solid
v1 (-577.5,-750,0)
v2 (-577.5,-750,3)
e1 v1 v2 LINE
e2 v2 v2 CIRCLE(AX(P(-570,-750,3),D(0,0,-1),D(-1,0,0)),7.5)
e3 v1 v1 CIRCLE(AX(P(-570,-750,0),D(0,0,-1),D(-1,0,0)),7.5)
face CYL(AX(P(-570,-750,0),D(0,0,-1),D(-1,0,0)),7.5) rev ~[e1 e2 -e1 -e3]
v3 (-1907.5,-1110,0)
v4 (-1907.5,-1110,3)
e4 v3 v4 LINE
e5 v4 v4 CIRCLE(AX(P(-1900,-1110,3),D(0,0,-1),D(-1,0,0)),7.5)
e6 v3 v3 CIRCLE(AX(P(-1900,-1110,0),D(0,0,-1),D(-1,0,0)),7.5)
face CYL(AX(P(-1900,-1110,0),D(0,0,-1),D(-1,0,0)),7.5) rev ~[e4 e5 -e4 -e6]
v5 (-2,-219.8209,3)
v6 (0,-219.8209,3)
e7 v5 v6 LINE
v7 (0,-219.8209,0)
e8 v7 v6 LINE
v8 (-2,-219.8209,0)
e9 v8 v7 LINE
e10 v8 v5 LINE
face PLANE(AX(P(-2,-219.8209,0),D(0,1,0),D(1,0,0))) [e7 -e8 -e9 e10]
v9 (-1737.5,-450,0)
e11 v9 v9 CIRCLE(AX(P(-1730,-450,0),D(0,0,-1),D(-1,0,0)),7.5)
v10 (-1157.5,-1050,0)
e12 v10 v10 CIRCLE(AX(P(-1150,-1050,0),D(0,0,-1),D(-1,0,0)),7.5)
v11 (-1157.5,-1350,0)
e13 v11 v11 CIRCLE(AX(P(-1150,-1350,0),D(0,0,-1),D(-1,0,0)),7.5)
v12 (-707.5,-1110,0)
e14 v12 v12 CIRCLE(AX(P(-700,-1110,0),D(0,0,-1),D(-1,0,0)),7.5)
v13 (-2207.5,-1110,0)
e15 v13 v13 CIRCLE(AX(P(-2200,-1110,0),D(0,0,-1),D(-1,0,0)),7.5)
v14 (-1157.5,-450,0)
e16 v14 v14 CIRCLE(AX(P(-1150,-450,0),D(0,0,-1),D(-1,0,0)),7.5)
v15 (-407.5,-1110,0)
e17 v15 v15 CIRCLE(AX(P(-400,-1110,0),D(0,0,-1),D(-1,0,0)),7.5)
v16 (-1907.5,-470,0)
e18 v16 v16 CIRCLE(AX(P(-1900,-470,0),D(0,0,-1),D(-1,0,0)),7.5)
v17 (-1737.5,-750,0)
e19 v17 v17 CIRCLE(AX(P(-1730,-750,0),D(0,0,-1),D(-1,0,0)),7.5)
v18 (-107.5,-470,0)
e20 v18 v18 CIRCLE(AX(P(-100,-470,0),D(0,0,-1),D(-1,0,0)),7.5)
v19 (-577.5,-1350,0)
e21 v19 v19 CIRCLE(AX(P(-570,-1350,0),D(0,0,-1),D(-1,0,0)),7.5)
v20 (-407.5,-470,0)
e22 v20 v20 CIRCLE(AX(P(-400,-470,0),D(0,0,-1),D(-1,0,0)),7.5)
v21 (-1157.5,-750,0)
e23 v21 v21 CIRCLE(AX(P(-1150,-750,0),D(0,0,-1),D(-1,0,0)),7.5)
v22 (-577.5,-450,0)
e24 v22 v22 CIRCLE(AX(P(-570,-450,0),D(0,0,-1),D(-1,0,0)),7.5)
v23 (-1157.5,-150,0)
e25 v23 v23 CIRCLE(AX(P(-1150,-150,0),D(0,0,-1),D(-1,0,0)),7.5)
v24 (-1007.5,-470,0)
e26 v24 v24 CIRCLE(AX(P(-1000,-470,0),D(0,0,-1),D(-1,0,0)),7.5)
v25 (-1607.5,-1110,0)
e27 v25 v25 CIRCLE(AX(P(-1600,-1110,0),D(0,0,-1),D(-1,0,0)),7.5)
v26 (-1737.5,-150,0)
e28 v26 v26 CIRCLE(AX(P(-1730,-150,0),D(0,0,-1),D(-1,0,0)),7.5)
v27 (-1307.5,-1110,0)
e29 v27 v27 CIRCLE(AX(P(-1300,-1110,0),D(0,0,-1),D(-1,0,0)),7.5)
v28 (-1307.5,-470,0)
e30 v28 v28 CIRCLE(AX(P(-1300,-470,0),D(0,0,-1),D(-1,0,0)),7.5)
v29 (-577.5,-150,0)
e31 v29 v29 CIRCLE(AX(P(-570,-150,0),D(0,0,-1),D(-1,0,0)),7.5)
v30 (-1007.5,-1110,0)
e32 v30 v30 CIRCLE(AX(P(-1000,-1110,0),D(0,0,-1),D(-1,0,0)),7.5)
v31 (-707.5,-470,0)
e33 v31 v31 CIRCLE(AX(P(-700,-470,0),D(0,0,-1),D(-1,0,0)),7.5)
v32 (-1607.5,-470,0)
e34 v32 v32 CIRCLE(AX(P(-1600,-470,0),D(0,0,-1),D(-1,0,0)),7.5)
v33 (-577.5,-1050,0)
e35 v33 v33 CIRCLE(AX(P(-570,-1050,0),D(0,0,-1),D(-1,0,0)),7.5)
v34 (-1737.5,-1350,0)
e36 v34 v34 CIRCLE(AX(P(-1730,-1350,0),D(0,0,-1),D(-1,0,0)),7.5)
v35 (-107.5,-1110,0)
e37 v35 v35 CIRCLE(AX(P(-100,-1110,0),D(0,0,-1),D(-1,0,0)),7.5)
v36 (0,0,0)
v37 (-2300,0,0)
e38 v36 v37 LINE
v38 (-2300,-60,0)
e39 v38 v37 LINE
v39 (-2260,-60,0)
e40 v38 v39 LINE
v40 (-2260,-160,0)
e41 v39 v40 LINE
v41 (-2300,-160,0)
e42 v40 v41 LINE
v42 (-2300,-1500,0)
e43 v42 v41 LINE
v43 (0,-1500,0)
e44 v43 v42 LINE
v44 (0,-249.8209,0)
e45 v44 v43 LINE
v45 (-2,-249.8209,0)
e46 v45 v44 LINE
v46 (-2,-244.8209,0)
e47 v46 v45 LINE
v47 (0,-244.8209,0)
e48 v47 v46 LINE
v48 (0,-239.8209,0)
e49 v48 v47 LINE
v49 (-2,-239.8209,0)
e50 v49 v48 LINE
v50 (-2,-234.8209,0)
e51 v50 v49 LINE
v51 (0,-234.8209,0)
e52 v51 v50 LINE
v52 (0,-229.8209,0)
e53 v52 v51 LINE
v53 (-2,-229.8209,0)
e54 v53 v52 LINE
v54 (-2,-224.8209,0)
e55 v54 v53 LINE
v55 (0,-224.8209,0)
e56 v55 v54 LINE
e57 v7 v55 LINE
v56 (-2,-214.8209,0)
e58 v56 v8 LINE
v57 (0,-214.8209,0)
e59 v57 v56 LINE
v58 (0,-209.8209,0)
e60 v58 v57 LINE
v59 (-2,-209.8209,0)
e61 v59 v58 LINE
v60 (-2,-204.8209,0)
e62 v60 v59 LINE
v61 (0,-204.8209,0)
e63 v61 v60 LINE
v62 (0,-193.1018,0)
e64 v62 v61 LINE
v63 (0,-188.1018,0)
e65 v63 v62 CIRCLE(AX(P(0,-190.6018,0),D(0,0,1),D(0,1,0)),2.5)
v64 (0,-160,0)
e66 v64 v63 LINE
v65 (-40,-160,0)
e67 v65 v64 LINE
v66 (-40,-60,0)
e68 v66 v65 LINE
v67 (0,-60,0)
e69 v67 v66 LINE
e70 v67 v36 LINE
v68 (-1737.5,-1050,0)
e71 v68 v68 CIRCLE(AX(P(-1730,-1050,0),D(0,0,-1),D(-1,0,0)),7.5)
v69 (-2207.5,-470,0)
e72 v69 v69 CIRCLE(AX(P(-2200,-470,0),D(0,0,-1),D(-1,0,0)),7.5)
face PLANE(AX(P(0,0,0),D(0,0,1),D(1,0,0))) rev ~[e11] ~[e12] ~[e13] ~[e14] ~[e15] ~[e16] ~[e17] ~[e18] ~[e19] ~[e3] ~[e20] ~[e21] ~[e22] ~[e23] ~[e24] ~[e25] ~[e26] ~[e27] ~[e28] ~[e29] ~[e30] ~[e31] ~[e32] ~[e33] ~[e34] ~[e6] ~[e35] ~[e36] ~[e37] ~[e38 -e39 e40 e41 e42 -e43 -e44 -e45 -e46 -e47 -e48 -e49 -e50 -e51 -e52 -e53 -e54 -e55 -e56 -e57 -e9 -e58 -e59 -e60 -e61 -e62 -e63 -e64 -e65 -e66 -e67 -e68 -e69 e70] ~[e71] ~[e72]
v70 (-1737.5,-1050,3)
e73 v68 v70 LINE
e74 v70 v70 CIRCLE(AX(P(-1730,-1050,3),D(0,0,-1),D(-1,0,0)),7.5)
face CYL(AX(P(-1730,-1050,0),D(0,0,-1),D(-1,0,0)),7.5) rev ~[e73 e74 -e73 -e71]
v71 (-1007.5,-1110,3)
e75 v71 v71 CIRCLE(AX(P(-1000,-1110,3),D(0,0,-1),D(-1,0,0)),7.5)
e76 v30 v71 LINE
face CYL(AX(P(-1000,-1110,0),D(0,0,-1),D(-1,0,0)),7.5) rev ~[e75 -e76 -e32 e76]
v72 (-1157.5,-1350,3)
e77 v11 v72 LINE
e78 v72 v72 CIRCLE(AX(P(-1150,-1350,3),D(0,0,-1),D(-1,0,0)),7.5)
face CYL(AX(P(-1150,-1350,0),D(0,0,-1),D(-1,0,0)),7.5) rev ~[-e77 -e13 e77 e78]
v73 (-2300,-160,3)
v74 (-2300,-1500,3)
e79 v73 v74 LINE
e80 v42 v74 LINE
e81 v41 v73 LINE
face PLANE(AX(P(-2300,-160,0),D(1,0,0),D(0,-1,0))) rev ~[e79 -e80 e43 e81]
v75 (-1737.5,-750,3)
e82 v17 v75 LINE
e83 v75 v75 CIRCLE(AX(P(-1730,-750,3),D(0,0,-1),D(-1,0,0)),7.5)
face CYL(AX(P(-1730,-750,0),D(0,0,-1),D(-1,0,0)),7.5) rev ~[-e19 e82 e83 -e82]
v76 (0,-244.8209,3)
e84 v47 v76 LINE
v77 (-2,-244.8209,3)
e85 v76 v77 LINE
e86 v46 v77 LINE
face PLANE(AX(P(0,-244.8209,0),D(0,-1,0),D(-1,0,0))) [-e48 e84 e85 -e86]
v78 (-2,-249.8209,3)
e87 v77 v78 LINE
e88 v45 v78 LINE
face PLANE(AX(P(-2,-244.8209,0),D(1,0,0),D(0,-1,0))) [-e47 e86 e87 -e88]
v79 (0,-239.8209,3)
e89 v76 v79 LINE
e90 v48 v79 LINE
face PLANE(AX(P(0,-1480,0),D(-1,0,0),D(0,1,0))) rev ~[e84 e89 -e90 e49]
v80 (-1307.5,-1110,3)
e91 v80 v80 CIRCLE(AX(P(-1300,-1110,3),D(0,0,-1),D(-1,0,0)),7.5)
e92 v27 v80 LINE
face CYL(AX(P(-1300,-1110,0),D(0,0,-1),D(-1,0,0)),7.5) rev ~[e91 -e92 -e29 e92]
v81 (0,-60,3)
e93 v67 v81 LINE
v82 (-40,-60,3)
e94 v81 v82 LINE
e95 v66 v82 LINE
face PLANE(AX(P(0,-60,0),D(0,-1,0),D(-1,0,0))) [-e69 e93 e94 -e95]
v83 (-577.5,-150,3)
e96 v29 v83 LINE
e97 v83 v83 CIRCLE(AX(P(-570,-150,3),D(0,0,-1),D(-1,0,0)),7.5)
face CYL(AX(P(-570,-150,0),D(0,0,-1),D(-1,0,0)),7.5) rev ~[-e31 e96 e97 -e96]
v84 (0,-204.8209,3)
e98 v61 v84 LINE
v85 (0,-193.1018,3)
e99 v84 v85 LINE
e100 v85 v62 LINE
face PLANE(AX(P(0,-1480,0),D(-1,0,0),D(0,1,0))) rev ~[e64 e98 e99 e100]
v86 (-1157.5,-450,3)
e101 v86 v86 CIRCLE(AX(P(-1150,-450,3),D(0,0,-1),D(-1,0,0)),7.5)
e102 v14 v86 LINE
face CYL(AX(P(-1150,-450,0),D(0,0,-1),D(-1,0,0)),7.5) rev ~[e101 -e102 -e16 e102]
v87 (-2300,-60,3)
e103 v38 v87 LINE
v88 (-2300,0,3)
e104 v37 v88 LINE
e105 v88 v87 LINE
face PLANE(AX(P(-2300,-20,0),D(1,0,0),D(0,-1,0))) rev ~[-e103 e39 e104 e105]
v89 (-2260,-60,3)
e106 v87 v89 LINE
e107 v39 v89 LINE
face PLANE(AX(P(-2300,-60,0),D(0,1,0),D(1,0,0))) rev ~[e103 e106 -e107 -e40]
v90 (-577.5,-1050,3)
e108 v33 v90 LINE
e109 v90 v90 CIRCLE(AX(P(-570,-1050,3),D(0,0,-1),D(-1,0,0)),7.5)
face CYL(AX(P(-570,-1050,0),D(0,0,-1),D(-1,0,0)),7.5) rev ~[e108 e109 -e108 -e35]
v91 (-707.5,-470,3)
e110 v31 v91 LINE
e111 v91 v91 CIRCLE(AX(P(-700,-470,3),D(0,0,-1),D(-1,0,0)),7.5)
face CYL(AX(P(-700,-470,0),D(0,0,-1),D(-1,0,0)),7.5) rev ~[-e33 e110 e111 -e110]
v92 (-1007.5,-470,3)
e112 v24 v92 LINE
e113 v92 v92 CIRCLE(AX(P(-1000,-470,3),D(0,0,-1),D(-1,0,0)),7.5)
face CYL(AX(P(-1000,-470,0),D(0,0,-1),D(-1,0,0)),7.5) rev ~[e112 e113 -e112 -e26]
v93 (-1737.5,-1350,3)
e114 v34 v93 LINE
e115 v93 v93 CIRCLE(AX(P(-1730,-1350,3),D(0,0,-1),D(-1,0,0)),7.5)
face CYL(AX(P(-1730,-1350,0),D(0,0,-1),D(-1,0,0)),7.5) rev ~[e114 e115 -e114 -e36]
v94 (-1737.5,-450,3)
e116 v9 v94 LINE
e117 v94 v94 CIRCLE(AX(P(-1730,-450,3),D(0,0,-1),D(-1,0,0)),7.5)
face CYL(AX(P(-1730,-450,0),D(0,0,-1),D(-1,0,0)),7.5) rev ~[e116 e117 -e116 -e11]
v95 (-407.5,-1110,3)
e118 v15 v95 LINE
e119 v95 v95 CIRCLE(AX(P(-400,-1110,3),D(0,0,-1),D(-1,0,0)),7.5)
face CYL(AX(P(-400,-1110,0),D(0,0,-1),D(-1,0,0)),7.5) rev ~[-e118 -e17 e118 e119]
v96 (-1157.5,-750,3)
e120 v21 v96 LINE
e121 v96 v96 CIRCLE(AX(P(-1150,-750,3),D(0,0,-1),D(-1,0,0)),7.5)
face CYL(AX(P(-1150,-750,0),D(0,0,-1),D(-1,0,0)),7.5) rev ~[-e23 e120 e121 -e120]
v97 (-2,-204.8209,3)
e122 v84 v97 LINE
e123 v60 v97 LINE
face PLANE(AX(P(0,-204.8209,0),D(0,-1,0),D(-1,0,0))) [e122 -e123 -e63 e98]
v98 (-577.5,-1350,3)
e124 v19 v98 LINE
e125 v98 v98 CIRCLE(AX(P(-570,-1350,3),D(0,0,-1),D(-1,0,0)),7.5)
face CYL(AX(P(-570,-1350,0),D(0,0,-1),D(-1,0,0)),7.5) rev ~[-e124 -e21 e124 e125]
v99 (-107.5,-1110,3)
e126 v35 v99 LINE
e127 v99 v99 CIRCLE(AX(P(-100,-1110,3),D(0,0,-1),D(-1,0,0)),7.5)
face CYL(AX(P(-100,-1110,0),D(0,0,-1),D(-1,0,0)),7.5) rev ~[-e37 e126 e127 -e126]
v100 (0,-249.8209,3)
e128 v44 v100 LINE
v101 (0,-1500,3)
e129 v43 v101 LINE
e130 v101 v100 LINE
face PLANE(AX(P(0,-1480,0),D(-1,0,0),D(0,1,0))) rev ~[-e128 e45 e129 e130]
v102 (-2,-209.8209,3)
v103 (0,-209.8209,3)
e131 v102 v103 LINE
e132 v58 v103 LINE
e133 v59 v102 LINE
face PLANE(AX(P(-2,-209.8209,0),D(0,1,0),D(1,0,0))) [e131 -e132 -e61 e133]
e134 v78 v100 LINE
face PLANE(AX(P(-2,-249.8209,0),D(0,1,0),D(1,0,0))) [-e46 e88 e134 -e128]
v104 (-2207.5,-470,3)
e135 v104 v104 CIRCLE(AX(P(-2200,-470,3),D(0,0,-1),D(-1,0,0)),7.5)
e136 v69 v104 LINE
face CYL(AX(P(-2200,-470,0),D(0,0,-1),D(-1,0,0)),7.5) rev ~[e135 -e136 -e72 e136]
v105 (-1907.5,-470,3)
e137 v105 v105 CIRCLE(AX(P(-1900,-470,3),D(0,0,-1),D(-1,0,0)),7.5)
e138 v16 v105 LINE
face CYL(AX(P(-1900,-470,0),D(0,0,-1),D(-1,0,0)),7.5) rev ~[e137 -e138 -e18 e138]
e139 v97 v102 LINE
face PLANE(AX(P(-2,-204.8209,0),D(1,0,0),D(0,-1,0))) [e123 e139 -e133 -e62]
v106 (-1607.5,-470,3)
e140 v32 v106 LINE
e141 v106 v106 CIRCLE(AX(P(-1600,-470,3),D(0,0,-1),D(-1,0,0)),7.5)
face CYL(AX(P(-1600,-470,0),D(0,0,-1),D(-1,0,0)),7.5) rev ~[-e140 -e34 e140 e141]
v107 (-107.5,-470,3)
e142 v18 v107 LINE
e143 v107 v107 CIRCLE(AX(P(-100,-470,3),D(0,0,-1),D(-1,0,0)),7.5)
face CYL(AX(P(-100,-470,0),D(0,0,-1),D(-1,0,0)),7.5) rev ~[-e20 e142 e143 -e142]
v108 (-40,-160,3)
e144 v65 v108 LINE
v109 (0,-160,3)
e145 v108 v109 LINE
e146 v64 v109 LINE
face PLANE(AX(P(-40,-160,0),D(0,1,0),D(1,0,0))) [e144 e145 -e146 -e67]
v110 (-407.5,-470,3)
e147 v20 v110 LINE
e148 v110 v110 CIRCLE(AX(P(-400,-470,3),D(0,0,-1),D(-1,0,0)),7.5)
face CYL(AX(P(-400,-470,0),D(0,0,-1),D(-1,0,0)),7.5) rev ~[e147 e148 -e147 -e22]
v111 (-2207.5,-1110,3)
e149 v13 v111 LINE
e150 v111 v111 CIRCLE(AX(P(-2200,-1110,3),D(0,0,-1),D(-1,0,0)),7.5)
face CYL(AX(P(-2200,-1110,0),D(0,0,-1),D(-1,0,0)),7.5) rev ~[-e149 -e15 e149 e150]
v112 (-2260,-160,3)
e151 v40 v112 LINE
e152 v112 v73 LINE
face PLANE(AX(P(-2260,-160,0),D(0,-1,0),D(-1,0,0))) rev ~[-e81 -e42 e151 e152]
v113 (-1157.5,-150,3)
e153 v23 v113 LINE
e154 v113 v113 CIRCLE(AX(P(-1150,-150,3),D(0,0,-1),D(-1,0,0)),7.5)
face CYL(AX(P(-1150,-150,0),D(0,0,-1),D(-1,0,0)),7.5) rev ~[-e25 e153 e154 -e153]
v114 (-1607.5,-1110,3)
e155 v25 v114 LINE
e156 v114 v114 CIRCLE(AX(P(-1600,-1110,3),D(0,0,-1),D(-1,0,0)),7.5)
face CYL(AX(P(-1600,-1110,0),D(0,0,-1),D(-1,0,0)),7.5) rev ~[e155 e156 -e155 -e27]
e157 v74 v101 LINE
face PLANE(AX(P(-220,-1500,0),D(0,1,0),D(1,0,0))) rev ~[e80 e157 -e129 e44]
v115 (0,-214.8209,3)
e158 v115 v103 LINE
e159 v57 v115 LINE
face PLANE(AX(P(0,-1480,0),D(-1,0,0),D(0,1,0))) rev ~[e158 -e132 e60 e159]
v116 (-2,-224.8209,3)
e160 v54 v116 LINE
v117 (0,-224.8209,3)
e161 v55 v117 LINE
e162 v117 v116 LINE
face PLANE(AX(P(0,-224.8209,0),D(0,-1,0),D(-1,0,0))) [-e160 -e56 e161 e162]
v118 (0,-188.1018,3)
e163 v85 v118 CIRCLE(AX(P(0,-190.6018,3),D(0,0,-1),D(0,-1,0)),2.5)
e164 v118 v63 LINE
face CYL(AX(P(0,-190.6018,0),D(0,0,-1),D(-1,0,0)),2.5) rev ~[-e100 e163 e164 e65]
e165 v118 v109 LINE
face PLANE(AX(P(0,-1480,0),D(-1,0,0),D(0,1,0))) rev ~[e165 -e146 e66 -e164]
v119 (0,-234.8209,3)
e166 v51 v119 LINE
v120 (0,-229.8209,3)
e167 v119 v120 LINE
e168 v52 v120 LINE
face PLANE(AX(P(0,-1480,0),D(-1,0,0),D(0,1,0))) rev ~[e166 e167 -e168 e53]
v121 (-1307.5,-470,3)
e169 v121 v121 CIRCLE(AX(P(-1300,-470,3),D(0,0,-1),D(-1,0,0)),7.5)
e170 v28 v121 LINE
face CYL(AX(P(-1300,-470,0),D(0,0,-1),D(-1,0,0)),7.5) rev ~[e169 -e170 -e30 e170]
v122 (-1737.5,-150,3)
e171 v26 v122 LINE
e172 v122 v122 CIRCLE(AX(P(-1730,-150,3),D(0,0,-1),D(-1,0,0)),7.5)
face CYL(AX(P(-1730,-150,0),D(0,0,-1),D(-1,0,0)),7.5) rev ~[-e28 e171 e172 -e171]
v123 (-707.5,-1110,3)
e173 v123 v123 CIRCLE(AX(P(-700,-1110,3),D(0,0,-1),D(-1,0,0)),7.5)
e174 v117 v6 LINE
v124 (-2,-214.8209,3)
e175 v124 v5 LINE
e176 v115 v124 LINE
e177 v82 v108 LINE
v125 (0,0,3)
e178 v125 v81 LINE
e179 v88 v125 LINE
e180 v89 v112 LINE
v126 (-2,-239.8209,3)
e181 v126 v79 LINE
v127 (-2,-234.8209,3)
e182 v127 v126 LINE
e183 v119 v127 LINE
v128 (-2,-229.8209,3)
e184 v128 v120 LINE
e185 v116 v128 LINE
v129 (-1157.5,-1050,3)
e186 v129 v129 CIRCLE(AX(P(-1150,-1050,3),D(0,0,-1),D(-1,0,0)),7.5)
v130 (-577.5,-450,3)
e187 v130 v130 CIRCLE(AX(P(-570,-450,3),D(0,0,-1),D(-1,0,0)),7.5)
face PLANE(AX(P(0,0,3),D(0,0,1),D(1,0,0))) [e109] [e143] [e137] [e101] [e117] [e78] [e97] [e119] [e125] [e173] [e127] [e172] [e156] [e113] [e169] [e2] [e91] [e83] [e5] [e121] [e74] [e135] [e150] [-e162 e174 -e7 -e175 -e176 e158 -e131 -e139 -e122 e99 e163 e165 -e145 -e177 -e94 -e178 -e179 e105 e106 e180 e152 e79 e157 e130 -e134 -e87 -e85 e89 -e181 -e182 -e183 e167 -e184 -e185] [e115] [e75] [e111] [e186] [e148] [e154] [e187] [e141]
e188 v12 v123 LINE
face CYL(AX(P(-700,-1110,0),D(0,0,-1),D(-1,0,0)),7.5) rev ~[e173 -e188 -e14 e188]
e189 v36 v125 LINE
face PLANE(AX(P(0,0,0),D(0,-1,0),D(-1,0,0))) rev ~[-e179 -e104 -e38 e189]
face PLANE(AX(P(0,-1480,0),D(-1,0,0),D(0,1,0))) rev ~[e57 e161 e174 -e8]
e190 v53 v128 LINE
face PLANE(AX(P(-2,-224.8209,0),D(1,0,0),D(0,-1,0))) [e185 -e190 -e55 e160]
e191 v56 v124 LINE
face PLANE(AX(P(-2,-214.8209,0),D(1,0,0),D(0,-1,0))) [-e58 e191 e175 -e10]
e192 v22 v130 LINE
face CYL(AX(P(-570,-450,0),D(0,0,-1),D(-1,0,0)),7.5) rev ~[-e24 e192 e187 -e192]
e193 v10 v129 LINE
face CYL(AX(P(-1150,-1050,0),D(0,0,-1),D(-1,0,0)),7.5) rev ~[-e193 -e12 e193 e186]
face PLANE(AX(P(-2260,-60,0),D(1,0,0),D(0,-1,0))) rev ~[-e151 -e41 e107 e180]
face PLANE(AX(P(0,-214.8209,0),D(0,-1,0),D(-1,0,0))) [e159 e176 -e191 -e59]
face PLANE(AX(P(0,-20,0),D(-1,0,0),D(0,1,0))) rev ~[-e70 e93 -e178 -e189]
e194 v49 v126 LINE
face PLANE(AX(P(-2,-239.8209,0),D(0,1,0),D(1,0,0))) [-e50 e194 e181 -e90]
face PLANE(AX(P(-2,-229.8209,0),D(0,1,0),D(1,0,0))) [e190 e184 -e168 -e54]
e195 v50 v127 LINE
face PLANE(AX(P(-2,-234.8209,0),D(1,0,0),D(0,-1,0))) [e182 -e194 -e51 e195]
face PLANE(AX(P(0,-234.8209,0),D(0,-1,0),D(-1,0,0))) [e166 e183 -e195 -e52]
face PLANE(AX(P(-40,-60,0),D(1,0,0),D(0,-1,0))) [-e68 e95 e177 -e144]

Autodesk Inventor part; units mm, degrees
ref_plane "YZ Plane" through (0, 0, 0) normal (1, 0, 0) x (0, 1, 0)
ref_plane "XZ Plane" through (0, 0, 0) normal (0, 1, 0) x (-1, 0, 0)
ref_plane "XY Plane" through (0, 0, 0) normal (0, 0, 1) x (1, 0, 0)
sketch "Sketch1" plane through (0, 0, 0) normal (0, 0, 1) x (1, 0, 0)
  line L0 (0, 0) -> (-2300, 0)
  line L1 (-2300, 0) -> (-2300, -1500)
  line L2 (-2300, -1500) -> (0, -1500)
  line L3 (0, -1500) -> (0, 0)
  line L4 (0, 0) -> (-20, 0)
  line L5 (-20, 0) -> (-20, -20)
  line L6 (-20, -20) -> (0, -20)
  line L7 (0, -20) -> (0, 0)
  line L8 (0, -1500) -> (-20, -1500)
  line L9 (-20, -1500) -> (-20, -1480)
  line L10 (-20, -1480) -> (0, -1480)
  line L11 (0, -1480) -> (0, -1500)
  line L12 (-2300, 0) -> (-2280, 0)
  line L13 (-2280, 0) -> (-2280, -20)
  line L14 (-2280, -20) -> (-2300, -20)
  line L15 (-2300, -20) -> (-2300, 0)
  line L16 (-2300, -1500) -> (-2280, -1500)
  line L17 (-2280, -1500) -> (-2280, -1480)
  line L18 (-2280, -1480) -> (-2300, -1480)
  line L19 (-2300, -1480) -> (-2300, -1500)
  line L20 (-310, -1500) -> (-220, -1500)
  line L21 (-220, -1500) -> (-220, -1480)
  line L22 (-220, -1480) -> (-310, -1480)
  line L23 (-310, -1480) -> (-310, -1500)
  line L24 (-310, 0) -> (-220, 0)
  line L25 (-220, 0) -> (-220, -20)
  line L26 (-220, -20) -> (-310, -20)
  line L27 (-310, -20) -> (-310, 0)
  line L28 (-2300, -60) -> (-2260, -60)
  line L29 (-2260, -60) -> (-2260, -160)
  line L30 (-2260, -160) -> (-2300, -160)
  line L31 (-2300, -160) -> (-2300, -60)
  line L32 (0, -60) -> (-40, -60)
  line L33 (-40, -60) -> (-40, -160)
  line L34 (-40, -160) -> (0, -160)
  line L35 (0, -160) -> (0, -60)
  point P0 (0, -20)
  point P1 (-20, 0)
  point P2 (-20, -1500)
  point P3 (0, -1480)
  point P4 (-220, -1500)
  point P5 (-220, 0)
  point P6 (-2280, 0)
  dimension "d22" = 2300
  dimension "d23" = 1500
  dimension "d24" = 20
  dimension "d25" = 20
  dimension "d28" = 90
  dimension "d29" = 200
  dimension "d70" = 40
  dimension "d71" = 100
  dimension "d72" = 60
extrude "Plate1" add sketch "Sketch1" along normal blind 3 contours L3 L6 L5 L0 | L5 L6 L3 L32 L33 L34 L10 L9 L2 L21 L22 L23 L17 L18 L1 L30 L29 L28 L14 L13 L0 L27 L26 L25 | L25 L26 L27 L0 | L13 L14 L1 L0 | L3 L2 L9 L10 | L2 L23 L22 L21 | L18 L17 L2 L1
sketch "Sketch8" plane through (0, 0, 0) normal (0, 0, -1) x (-1, 0, 0)
  line L0 (0, -60) -> (0, 0) projected
  line L1 (2300, -1500) -> (0, -1500) projected
  line L2 (2300, 0) -> (2300, -60) projected
  line L3 (0, 0) -> (2300, 0) projected
  line L4 (0, -204.8209) -> (2, -204.8209)
  line L5 (2, -204.8209) -> (2, -209.8209)
  line L6 (2, -209.8209) -> (0, -209.8209)
  line L7 (0, -209.8209) -> (0, -204.8209)
  circle A0 centre (0, -190.6018) radius 2.5
  line L8 (0, -1500) -> (0, 0) projected
  line L9 (0, -214.8209) -> (2, -214.8209)
  line L10 (2, -214.8209) -> (2, -219.8209)
  line L11 (2, -219.8209) -> (0, -219.8209)
  line L12 (0, -219.8209) -> (0, -214.8209)
  line L13 (0, -224.8209) -> (2, -224.8209)
  line L14 (2, -224.8209) -> (2, -229.8209)
  line L15 (2, -229.8209) -> (0, -229.8209)
  line L16 (0, -229.8209) -> (0, -224.8209)
  line L17 (0, -234.8209) -> (2, -234.8209)
  line L18 (2, -234.8209) -> (2, -239.8209)
  line L19 (2, -239.8209) -> (0, -239.8209)
  line L20 (0, -239.8209) -> (0, -234.8209)
  line L21 (0, -244.8209) -> (2, -244.8209)
  line L22 (2, -244.8209) -> (2, -249.8209)
  line L23 (2, -249.8209) -> (0, -249.8209)
  line L24 (0, -249.8209) -> (0, -244.8209)
  line L25 (0, -254.8209) -> (2, -254.8209)
  line L26 (2, -254.8209) -> (2, -259.8209)
  line L27 (2, -259.8209) -> (0, -259.8209)
  line L28 (0, -259.8209) -> (0, -254.8209)
  line L29 (0, -264.8209) -> (2, -264.8209)
  line L30 (2, -264.8209) -> (2, -269.8209)
  line L31 (2, -269.8209) -> (0, -269.8209)
  line L32 (0, -269.8209) -> (0, -264.8209)
  line L33 (0, -274.8209) -> (2, -274.8209)
  line L34 (2, -274.8209) -> (2, -279.8209)
  line L35 (2, -279.8209) -> (0, -279.8209)
  line L36 (0, -279.8209) -> (0, -274.8209)
  line L37 (0, -284.8209) -> (2, -284.8209)
  line L38 (2, -284.8209) -> (2, -289.8209)
  line L39 (2, -289.8209) -> (0, -289.8209)
  line L40 (0, -289.8209) -> (0, -284.8209)
  line L41 (40, -60) -> (0, -60) projected
  line L42 (40, -160) -> (40, -60) projected
  line L43 (0, -160) -> (40, -160) projected
  line L44 (0, -1500) -> (0, -160) projected
  line L45 (2300, -160) -> (2300, -1500) projected
  line L46 (2260, -160) -> (2300, -160) projected
  line L47 (2260, -60) -> (2260, -160) projected
  line L48 (2300, -60) -> (2260, -60) projected
  point P0 (0, -94.5188)
  point P1 (0, -99.5188)
  point P2 (0, -84.5188)
  point P3 (0, -89.5188)
  point P4 (0, -74.5188)
  point P5 (0, -79.5188)
  point P6 (0, -64.5188)
  point P7 (0, -69.5188)
  point P8 (0, -59.5188)
  point P9 (0, -244.8209)
  point P10 (0, -249.8209)
  point P11 (0, -234.8209)
  point P12 (0, -239.8209)
  point P13 (0, -224.8209)
  point P14 (0, -229.8209)
  point P15 (0, -214.8209)
  point P16 (0, -219.8209)
  dimension "d50" = 5
  dimension "d51" = 2
  dimension "d62" = 10
  dimension "d69" = 5
extrude "Cut3" cut sketch "Sketch8" against normal blind 3 contours L8 A0 | A0 L8 | L4 L5 L6 L7 | L9 L10 L11 L8 | L13 L14 L15 L8 | L17 L18 L19 L8 | L21 L22 L23 L8
sketch "Sketch9" plane through (0, 0, 0) normal (0, 0, -1) x (-1, 0, 0)
  line L0 (2, -229.8209) -> (0, -229.8209) construction
  line L1 (0, -234.8209) -> (0, -229.8209) construction
  line L2 (0, -234.8209) -> (2, -234.8209) construction
  line L3 (2, -234.8209) -> (2, -239.8209) construction
  line L4 (2, -239.8209) -> (0, -239.8209) construction
  line L5 (0, -244.8209) -> (0, -239.8209) construction
  line L6 (0, -244.8209) -> (2, -244.8209) construction
  line L7 (2, -244.8209) -> (2, -249.8209) construction
  line L8 (2, -249.8209) -> (0, -249.8209) construction
  line L9 (0, -1500) -> (0, -249.8209) construction
  line L10 (2300, -1500) -> (0, -1500) construction
  line L11 (2300, -160) -> (2300, -1500) construction
  line L12 (2260, -160) -> (2300, -160) construction
  line L13 (2260, -60) -> (2260, -160) construction
  line L14 (2300, -60) -> (2260, -60) construction
  line L15 (2300, 0) -> (2300, -60) construction
  line L16 (0, 0) -> (2300, 0) construction
  line L17 (0, -60) -> (0, 0) construction
  line L18 (40, -60) -> (0, -60) construction
  line L19 (40, -160) -> (40, -60) construction
  line L20 (0, -160) -> (40, -160) construction
  line L21 (0, -188.1018) -> (0, -160) construction
  arc A0 (0, -193.1018) -> (0, -188.1018) centre (0, -190.6018) ccw construction
  line L22 (0, -204.8209) -> (0, -193.1018) construction
  line L23 (0, -204.8209) -> (2, -204.8209) construction
  line L24 (2, -204.8209) -> (2, -209.8209) construction
  line L25 (2, -209.8209) -> (0, -209.8209) construction
  line L26 (0, -214.8209) -> (0, -209.8209) construction
  line L27 (0, -214.8209) -> (2, -214.8209) construction
  line L28 (2, -214.8209) -> (2, -219.8209) construction
  line L29 (2, -219.8209) -> (0, -219.8209) construction
  line L30 (0, -224.8209) -> (0, -219.8209) construction
  line L31 (0, -224.8209) -> (2, -224.8209) construction
  line L32 (2, -224.8209) -> (2, -229.8209) construction
  line L33 (2300, -470) -> (0, -470) construction
  line L34 (0, -1110) -> (2300, -1110) construction
  line L35 (1730, 0) -> (1730, -1500) construction
  line L36 (1150, 0) -> (1150, -1500) construction
  line L37 (570, 0) -> (570, -1500) construction
  circle A1 centre (2200, -470) radius 7.5
  circle A2 centre (2200, -1110) radius 7.5
  circle A3 centre (1730, -150) radius 7.5
  circle A4 centre (1150, -150) radius 7.5
  circle A5 centre (570, -150) radius 7.5
  circle A6 centre (1900, -470) radius 7.5
  circle A7 centre (1900, -1110) radius 7.5
  circle A8 centre (1600, -470) radius 7.5
  circle A9 centre (1600, -1110) radius 7.5
  circle A10 centre (1300, -470) radius 7.5
  circle A11 centre (1300, -1110) radius 7.5
  circle A12 centre (1000, -470) radius 7.5
  circle A13 centre (1000, -1110) radius 7.5
  circle A14 centre (700, -470) radius 7.5
  circle A15 centre (700, -1110) radius 7.5
  circle A16 centre (400, -470) radius 7.5
  circle A17 centre (400, -1110) radius 7.5
  circle A18 centre (100, -470) radius 7.5
  circle A19 centre (100, -1110) radius 7.5
  circle A20 centre (-200, -470) radius 7.5
  circle A21 centre (-200, -1110) radius 7.5
  circle A22 centre (-500, -470) radius 7.5
  circle A23 centre (-500, -1110) radius 7.5
  circle A24 centre (-800, -470) radius 7.5
  circle A25 centre (-800, -1110) radius 7.5
  circle A26 centre (1150, -450) radius 7.5
  circle A27 centre (1730, -450) radius 7.5
  circle A28 centre (570, -450) radius 7.5
  circle A29 centre (1150, -750) radius 7.5
  circle A30 centre (1730, -750) radius 7.5
  circle A31 centre (570, -750) radius 7.5
  circle A32 centre (1150, -1050) radius 7.5
  circle A33 centre (1730, -1050) radius 7.5
  circle A34 centre (570, -1050) radius 7.5
  circle A35 centre (1150, -1350) radius 7.5
  circle A36 centre (1730, -1350) radius 7.5
  circle A37 centre (570, -1350) radius 7.5
  circle A38 centre (1150, -1650) radius 7.5
  circle A39 centre (1730, -1650) radius 7.5
  circle A40 centre (570, -1650) radius 7.5
  circle A41 centre (1150, -1950) radius 7.5
  circle A42 centre (1730, -1950) radius 7.5
  circle A43 centre (570, -1950) radius 7.5
  dimension "d73" = 570
  dimension "d74" = 1150
  dimension "d75" = 1730
  dimension "d76" = 470
  dimension "d77" = 1110
  dimension "d78" = 150
  dimension "d79" = 100
  dimension "d80" = 15
  dimension "d83" = 300
  dimension "d90" = 300
extrude "Cut4" cut sketch "Sketch9" against normal blind 3
equation "\"d24\" = d25"
equation "\"d67\" = Thickness"
equation "\"d95\" = Thickness"
equation "\"d2\" = Thickness"
equation "\"BendReliefWidth\" = Thickness"
equation "\"BendReliefDepth\" = 0.5 * Thickness"
equation "\"CornerReliefSize\" = 4 * Thickness"
equation "\"MinimumRemnant\" = 2 * Thickness"
equation "\"TransitionRadius\" = BendRadius"
equation "\"JacobiRadiusSize\" = BendRadius"
equation "\"GapSize\" = Thickness"
equation "\"Thickness\" = 3"
equation "\"BendRadius\" = 5"
properties part number "GnG L.4 floor sheet" material "Stainless Steel"
